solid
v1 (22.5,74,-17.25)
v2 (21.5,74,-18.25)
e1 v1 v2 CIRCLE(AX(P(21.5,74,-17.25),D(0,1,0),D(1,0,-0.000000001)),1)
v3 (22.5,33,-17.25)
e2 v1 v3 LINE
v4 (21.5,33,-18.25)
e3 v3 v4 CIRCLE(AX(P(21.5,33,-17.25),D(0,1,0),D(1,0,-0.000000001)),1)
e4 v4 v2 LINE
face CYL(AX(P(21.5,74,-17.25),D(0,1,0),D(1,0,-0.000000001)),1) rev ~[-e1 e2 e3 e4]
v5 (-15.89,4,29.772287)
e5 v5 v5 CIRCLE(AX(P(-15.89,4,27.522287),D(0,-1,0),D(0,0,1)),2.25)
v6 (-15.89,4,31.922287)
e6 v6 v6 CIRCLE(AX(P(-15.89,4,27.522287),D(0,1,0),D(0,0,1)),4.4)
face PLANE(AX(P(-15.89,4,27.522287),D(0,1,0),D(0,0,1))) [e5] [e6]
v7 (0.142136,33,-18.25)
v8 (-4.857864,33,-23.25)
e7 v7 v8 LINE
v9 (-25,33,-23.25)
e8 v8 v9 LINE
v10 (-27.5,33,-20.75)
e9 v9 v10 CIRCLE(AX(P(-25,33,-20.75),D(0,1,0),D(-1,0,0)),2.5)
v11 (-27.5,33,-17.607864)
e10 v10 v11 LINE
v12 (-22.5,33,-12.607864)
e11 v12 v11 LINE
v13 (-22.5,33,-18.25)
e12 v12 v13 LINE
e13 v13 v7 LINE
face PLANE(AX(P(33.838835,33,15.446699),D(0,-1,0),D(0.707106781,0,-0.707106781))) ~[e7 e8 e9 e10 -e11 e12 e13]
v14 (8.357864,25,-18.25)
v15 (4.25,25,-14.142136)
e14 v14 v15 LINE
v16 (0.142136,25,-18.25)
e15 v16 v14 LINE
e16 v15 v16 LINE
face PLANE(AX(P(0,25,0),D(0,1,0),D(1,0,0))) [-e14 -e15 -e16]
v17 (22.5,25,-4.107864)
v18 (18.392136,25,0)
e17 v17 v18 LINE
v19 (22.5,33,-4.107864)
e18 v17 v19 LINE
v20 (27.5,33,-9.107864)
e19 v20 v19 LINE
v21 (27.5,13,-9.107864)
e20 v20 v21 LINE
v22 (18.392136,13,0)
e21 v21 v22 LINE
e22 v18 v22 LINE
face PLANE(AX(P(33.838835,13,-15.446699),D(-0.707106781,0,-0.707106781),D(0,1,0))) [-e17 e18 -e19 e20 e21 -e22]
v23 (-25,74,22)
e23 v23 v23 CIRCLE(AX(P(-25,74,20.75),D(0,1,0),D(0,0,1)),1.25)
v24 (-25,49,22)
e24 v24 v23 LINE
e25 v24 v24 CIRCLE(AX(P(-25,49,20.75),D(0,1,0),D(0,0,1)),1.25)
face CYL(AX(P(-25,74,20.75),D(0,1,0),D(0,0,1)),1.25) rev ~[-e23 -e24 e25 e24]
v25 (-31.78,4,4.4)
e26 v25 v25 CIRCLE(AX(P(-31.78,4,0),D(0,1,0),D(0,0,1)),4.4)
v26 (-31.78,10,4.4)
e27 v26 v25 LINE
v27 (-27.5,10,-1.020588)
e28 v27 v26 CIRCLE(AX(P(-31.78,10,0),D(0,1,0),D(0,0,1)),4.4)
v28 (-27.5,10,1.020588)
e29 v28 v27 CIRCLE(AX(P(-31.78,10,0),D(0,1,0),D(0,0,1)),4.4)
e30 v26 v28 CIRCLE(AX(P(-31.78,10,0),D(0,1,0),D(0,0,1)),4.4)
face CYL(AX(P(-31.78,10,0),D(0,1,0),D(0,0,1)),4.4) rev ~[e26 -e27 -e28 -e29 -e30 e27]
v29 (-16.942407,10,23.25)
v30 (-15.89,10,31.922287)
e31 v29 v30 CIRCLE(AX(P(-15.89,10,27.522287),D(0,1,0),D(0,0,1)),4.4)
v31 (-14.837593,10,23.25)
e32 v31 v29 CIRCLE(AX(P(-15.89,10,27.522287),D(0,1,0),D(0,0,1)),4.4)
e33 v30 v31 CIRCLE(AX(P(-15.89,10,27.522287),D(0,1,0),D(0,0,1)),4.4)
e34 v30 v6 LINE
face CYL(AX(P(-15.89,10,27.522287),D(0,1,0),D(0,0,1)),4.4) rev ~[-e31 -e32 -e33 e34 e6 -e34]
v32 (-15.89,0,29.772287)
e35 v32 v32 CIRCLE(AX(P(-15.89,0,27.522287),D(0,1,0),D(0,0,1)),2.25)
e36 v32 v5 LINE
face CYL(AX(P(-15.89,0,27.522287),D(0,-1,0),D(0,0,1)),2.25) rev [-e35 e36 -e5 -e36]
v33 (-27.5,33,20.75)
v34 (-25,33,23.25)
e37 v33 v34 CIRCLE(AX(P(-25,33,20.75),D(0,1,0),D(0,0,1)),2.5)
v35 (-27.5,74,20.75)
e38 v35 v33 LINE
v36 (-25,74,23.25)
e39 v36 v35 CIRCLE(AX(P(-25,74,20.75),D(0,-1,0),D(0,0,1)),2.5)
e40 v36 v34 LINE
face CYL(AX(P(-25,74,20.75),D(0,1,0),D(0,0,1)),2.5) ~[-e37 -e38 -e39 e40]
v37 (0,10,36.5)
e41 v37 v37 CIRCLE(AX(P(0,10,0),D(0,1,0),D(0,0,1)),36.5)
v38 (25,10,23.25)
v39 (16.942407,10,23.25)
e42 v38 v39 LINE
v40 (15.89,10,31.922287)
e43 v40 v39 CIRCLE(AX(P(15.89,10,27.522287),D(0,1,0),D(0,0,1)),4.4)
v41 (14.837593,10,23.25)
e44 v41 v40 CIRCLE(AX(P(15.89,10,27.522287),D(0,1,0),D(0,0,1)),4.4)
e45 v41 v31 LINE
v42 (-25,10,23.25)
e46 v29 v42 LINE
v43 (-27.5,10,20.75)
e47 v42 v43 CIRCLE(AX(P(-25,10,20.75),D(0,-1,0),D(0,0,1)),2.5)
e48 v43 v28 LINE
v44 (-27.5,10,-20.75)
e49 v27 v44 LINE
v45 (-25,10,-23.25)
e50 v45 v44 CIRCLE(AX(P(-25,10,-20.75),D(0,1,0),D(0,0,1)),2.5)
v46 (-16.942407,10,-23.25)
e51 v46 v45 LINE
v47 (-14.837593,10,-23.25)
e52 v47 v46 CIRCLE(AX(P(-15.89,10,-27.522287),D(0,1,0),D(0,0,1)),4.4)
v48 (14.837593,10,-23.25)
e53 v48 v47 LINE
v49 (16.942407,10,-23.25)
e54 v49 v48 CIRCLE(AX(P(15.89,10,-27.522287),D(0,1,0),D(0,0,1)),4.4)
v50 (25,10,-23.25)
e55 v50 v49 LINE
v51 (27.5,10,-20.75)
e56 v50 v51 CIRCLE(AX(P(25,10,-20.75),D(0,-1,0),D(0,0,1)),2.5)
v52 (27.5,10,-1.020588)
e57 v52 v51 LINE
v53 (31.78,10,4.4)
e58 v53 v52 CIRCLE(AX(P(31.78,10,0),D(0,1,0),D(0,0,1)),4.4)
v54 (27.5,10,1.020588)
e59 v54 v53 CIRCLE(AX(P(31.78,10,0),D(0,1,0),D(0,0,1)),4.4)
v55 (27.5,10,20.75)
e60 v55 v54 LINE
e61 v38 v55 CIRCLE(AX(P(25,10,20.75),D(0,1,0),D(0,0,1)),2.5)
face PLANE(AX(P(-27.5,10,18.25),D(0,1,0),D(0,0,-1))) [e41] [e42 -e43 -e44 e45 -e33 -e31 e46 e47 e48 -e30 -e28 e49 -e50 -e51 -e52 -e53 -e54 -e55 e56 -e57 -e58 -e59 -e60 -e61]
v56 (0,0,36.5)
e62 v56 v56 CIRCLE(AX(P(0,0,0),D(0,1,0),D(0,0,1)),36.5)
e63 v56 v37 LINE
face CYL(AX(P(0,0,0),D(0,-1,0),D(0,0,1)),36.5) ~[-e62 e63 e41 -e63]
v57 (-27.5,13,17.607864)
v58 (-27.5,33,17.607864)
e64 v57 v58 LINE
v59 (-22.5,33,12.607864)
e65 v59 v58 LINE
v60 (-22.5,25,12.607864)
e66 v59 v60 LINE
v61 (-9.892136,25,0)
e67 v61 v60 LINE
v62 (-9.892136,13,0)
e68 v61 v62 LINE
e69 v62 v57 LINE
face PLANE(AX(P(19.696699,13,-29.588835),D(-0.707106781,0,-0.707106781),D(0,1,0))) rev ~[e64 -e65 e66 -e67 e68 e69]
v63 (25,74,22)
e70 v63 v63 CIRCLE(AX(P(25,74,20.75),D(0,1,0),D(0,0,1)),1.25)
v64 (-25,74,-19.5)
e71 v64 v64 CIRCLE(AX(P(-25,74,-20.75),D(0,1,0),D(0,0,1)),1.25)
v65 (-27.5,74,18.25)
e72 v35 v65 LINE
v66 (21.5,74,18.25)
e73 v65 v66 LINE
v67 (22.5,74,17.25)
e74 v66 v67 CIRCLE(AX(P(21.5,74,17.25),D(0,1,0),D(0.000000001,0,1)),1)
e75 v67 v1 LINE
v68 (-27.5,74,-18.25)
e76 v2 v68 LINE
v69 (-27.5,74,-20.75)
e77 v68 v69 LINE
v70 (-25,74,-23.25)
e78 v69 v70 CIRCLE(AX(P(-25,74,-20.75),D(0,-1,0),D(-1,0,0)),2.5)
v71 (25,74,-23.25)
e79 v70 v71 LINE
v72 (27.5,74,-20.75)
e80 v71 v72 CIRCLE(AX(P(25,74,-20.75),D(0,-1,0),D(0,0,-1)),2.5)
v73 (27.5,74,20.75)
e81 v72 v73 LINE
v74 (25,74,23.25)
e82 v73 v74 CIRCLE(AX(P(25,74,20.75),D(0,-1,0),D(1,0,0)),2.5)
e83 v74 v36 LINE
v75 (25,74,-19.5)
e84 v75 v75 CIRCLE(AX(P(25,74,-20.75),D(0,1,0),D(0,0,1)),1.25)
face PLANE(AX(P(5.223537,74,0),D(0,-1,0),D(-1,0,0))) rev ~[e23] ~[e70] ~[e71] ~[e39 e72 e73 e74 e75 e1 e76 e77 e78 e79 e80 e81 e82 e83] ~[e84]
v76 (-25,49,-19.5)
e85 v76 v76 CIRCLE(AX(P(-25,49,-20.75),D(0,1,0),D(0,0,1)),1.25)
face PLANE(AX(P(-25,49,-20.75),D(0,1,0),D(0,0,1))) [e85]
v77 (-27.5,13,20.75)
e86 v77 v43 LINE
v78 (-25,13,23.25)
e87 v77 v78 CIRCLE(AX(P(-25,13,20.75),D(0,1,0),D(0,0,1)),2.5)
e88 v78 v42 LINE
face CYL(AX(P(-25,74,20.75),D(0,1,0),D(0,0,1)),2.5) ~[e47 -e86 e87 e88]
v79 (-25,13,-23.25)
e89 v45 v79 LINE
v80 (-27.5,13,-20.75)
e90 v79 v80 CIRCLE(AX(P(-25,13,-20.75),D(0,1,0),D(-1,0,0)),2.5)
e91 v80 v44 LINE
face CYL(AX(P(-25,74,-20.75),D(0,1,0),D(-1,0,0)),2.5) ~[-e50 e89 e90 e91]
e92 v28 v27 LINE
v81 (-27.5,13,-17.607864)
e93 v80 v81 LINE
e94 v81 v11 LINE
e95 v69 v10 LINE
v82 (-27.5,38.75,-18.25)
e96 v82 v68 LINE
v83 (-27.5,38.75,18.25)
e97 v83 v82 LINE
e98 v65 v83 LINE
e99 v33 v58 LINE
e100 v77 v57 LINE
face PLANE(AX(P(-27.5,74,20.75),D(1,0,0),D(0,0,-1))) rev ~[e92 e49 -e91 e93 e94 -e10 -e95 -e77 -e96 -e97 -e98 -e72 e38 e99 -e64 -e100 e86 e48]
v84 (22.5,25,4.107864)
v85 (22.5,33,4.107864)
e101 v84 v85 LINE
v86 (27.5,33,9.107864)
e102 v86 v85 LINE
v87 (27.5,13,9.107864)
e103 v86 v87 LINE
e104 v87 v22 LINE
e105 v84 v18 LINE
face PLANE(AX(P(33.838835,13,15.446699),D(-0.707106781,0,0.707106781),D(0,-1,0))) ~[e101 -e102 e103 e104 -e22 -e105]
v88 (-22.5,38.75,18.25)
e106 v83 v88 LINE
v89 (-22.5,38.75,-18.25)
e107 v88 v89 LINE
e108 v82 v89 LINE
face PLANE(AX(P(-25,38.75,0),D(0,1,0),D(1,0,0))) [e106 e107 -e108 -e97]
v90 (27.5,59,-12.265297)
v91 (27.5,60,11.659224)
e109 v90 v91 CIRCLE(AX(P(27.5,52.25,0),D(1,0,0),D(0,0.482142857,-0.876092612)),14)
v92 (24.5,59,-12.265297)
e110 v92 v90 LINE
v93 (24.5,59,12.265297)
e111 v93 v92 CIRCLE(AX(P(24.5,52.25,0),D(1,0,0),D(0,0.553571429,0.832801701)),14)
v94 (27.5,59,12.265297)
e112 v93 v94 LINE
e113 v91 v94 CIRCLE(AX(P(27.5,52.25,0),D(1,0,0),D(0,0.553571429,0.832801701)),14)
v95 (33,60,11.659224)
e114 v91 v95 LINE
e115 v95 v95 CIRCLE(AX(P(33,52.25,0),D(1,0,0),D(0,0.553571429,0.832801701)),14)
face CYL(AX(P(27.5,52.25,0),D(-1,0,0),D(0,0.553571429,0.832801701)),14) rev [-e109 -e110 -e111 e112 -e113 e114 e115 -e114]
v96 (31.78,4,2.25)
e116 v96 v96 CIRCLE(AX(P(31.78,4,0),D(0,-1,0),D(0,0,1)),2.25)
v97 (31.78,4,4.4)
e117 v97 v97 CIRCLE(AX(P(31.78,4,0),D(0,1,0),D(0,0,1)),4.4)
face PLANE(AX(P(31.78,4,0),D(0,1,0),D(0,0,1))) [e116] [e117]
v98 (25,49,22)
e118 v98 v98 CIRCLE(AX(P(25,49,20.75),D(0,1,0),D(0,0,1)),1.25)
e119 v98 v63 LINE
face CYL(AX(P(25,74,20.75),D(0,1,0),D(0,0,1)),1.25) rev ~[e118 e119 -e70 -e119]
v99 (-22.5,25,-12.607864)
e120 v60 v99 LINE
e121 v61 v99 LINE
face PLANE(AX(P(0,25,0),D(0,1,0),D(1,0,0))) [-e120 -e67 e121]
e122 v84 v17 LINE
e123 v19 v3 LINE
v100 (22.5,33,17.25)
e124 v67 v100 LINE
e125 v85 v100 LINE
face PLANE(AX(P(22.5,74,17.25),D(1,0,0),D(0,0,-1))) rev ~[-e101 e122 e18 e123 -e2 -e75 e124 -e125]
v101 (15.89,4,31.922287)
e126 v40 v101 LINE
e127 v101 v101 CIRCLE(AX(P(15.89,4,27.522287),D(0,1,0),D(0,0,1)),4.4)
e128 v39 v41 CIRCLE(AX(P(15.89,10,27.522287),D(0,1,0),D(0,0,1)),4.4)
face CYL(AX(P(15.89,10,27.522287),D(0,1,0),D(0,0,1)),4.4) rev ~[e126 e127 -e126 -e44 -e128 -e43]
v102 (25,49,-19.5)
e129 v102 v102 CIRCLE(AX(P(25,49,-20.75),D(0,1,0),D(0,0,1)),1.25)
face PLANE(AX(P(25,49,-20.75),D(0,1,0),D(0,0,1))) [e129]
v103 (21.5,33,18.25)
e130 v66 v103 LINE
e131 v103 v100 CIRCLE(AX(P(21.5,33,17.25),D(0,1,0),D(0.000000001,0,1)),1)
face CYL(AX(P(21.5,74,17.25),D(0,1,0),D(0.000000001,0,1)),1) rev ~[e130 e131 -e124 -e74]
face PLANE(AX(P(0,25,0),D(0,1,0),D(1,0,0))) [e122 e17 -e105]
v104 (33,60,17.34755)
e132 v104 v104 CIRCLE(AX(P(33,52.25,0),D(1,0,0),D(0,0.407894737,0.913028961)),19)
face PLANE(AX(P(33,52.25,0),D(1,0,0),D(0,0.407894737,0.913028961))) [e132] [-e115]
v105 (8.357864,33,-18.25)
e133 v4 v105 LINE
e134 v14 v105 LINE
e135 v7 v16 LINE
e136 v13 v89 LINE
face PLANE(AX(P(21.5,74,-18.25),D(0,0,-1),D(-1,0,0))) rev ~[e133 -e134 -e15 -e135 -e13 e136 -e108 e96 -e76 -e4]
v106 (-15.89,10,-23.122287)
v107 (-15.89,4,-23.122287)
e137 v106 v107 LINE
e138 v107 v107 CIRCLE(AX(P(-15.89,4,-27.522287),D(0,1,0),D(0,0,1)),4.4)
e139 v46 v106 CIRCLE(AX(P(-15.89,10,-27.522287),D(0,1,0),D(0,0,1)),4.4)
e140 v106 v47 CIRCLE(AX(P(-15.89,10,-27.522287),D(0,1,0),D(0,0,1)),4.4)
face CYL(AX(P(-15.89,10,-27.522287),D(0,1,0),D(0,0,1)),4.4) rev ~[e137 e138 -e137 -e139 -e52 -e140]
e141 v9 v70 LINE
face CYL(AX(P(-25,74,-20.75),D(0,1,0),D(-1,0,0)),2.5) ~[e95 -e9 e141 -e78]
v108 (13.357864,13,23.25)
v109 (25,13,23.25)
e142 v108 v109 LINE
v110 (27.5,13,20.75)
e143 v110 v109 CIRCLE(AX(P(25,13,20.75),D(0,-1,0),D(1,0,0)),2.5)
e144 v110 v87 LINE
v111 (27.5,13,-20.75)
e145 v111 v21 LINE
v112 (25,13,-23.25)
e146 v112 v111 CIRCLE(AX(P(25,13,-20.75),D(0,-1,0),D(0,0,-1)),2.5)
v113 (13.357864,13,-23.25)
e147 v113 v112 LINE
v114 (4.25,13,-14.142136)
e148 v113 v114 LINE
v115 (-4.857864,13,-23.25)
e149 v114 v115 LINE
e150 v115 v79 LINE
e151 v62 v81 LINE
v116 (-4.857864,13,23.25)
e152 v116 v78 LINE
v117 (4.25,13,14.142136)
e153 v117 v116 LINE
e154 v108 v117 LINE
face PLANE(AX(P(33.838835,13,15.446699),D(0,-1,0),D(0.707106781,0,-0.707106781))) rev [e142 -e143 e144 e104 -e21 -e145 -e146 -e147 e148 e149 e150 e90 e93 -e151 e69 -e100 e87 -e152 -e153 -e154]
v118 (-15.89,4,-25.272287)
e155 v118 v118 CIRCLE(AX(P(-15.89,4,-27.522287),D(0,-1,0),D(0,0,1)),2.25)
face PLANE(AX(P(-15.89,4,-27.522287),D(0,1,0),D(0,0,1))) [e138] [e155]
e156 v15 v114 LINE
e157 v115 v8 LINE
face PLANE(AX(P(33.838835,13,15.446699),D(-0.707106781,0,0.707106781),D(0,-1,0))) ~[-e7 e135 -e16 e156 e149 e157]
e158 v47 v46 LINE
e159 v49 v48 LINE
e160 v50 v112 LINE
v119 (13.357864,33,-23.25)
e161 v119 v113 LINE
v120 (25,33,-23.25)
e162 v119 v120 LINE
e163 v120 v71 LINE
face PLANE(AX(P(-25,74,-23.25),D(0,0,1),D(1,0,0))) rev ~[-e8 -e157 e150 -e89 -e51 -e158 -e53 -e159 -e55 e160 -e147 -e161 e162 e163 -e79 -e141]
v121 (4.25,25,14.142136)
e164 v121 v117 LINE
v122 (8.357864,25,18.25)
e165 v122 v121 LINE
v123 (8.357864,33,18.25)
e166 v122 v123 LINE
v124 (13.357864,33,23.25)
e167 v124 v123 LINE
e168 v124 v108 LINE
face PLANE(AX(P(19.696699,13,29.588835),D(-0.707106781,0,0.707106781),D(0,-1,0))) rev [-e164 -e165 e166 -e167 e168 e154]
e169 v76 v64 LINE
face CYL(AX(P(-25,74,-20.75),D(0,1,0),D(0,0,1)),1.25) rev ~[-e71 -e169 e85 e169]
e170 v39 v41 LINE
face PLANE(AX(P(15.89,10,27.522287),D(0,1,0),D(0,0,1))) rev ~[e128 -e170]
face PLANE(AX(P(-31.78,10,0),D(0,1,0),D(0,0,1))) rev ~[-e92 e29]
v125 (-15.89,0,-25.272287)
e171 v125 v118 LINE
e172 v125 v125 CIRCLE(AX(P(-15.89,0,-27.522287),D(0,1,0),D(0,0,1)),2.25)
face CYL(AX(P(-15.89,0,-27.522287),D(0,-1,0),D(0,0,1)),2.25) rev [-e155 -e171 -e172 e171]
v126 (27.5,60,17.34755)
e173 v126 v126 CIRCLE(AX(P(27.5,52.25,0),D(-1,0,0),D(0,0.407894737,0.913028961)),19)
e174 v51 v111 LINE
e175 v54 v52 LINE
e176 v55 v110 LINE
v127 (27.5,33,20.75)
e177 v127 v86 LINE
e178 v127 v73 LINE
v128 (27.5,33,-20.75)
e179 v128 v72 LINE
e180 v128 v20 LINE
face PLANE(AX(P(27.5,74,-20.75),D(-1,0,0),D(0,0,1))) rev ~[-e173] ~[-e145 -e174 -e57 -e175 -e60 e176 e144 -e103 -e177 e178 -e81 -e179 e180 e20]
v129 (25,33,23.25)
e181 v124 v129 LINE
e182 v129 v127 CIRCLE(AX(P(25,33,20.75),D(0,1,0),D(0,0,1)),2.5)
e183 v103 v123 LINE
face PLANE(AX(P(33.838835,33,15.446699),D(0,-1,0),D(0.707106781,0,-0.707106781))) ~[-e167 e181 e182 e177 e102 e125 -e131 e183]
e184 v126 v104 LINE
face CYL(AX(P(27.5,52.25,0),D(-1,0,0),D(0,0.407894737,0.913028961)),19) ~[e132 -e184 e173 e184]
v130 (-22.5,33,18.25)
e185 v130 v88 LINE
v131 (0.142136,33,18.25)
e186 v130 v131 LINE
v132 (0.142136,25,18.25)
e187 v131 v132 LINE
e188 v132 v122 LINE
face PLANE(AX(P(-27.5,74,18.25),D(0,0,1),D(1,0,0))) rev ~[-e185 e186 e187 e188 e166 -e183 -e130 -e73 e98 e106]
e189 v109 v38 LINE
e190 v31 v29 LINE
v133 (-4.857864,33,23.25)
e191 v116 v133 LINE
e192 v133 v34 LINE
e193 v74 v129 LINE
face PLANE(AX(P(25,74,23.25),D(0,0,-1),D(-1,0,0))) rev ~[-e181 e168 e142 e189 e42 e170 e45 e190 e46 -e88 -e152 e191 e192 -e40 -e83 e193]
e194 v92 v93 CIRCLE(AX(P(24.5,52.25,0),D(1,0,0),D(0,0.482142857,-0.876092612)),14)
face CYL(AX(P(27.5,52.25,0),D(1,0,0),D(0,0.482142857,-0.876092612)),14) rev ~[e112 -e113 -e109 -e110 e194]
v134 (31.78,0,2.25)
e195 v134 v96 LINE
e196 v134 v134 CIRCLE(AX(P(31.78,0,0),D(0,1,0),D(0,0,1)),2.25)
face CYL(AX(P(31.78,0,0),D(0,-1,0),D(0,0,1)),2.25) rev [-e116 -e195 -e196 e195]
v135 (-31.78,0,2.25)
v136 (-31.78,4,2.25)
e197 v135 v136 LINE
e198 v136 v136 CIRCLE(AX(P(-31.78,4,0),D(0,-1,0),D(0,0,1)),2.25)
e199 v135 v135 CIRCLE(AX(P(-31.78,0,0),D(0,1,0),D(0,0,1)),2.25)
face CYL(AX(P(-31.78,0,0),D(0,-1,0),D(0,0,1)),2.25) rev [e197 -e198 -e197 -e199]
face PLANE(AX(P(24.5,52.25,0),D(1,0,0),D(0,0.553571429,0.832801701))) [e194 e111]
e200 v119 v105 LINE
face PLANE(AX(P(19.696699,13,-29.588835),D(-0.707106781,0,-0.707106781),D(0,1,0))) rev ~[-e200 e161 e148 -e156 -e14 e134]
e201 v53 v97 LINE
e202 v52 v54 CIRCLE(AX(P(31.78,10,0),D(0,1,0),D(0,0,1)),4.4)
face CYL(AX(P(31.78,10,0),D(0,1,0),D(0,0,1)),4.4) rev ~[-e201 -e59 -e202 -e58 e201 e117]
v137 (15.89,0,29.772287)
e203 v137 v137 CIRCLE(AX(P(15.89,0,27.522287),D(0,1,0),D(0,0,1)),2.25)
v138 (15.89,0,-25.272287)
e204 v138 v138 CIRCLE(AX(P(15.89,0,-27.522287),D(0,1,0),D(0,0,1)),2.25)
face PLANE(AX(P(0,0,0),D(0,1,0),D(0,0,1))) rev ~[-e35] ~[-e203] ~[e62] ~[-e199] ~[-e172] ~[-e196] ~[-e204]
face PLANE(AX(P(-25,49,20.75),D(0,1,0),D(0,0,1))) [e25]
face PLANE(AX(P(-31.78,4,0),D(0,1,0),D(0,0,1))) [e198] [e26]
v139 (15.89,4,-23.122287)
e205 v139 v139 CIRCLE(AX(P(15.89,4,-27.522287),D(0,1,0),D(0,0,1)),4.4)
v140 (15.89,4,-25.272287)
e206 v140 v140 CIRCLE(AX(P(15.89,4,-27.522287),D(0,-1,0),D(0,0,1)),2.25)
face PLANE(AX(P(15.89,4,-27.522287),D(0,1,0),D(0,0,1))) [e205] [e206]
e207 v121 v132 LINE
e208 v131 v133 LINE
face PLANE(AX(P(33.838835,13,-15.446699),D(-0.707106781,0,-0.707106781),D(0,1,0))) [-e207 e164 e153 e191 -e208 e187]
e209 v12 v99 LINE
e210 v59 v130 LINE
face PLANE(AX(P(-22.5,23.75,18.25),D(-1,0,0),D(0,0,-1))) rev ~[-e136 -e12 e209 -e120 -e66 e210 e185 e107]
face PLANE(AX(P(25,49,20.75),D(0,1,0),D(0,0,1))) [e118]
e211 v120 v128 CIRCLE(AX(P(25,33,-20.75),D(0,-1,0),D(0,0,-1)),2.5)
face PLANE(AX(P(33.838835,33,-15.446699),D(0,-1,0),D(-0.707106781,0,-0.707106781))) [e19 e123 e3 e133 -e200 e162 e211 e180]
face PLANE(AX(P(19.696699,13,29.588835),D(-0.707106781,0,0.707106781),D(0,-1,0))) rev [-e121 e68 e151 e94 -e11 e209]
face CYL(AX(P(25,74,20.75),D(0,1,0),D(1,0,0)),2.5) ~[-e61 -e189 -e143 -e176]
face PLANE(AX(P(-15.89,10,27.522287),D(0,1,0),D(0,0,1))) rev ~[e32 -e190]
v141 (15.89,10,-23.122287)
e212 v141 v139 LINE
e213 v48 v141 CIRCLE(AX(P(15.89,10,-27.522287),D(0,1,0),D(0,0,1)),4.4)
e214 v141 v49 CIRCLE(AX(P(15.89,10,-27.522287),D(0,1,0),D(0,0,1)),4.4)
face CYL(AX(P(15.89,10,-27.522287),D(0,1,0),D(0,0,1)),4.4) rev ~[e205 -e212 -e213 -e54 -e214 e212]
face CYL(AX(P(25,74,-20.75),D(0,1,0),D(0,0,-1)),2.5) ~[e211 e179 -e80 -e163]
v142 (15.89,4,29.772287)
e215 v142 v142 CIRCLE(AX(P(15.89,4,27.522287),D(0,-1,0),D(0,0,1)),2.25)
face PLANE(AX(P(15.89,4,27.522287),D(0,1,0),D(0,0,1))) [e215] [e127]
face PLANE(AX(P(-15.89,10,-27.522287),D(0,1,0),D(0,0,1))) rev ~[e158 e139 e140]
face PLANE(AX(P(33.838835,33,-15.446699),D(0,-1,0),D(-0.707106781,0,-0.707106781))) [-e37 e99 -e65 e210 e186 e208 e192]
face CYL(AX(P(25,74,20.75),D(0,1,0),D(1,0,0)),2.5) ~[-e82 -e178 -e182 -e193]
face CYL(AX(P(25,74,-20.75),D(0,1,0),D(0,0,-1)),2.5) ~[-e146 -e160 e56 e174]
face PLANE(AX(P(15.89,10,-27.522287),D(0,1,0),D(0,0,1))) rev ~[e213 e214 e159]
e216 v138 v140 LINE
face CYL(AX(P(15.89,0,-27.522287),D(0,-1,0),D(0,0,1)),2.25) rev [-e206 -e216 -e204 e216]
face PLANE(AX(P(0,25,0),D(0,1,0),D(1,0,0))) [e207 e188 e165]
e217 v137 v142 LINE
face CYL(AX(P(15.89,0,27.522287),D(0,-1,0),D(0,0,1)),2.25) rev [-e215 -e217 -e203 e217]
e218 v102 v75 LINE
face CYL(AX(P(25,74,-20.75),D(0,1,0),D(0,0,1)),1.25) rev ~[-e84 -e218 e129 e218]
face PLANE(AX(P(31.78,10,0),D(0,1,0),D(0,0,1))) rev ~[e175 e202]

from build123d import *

# Parameters (mm, degrees)
SKETCH1_W             = 45
SKETCH1_H             = 36.5
BOSS_EXTRUDE1_DEPTH   = 10
SKETCH1_R             = 36.5
SKETCH1_R_2           = 2.25
SKETCH1_W_2           = 55
SKETCH1_H_2           = 46.5
BOSS_EXTRUDE1_2_DEPTH = 10
SKETCH1_2_W           = 55
SKETCH1_2_H           = 46.5
SKETCH1_2_W_2         = 45
SKETCH1_2_H_2         = 36.5
BOSS_EXTRUDE2_DEPTH   = 60
FILLET2_R             = 1
CUT_EXTRUDE1_START    = -5
SKETCH2_W             = 36.5
SKETCH2_H             = 50
CUT_EXTRUDE1_DEPTH    = 6
BOSS_EXTRUDE3_START   = -5
SKETCH3_W             = 46.5
SKETCH3_H             = 13.75
BOSS_EXTRUDE3_DEPTH   = 5
FILLET5_R             = 2.5
SKETCH6_R             = 4.4
CUT_EXTRUDE4_DEPTH    = 6
SKETCH7_R             = 19
SKETCH7_R_2           = 14
BOSS_EXTRUDE4_DEPTH   = 5.5
SKETCH7_2_R           = 14
CUT_EXTRUDE5_DEPTH    = 3
SKETCH8_R             = 1.25
CUT_EXTRUDE6_DEPTH    = 11
SKETCH9_R             = 1.25
CUT_EXTRUDE7_DEPTH    = 1
SKETCH11_W            = 45
SKETCH11_H            = 36.5
BOSS_EXTRUDE5_DEPTH   = 15
SKETCH12_W            = 5
SKETCH12_H            = 36.5
BOSS_EXTRUDE6_DEPTH   = 15
BOSS_EXTRUDE7_START   = 15
SKETCH13_R            = 1.25
BOSS_EXTRUDE7_DEPTH   = 15
CUT_EXTRUDE8_DEPTH    = 3
SKETCH15_W            = 20
SKETCH15_H            = 20
CUT_EXTRUDE9_DEPTH    = 114.850371766


with BuildPart() as part:
    # Sketch1 → Boss-Extrude1 (new body)
    with BuildSketch(Plane(origin=(0, 0, 0), x_dir=(1, 0, 0), z_dir=(0, 1, 0))):
        Rectangle(SKETCH1_W, SKETCH1_H)
    extrude(amount=BOSS_EXTRUDE1_DEPTH)



with BuildPart() as body_2:
    # Sketch1 → Boss-Extrude1 2 (new body)
    with BuildSketch(Plane(origin=(0, 0, 0), x_dir=(1, 0, 0), z_dir=(0, 1, 0))):
        with Locations(Location((0, 0, 0), (0, 0, 270))):
            Circle(SKETCH1_R)
        with Locations(Location((-15.89, -27.522287332, 0), (0, 0, 270))):
            Circle(SKETCH1_R_2, mode=Mode.SUBTRACT)
        with Locations(Location((15.89, -27.522287332, 0), (0, 0, 270))):
            Circle(SKETCH1_R_2, mode=Mode.SUBTRACT)
        with Locations(Location((-31.78, 0, 0), (0, 0, 270))):
            Circle(SKETCH1_R_2, mode=Mode.SUBTRACT)
        with Locations(Location((-15.89, 27.522287332, 0), (0, 0, 270))):
            Circle(SKETCH1_R_2, mode=Mode.SUBTRACT)
        Rectangle(SKETCH1_W_2, SKETCH1_H_2, mode=Mode.SUBTRACT)
        with Locations(Location((31.78, 0, 0), (0, 0, 270))):
            Circle(SKETCH1_R_2, mode=Mode.SUBTRACT)
        with Locations(Location((15.89, 27.522287332, 0), (0, 0, 270))):
            Circle(SKETCH1_R_2, mode=Mode.SUBTRACT)
    extrude(amount=BOSS_EXTRUDE1_2_DEPTH)

    # Sketch1<2> → Boss-Extrude2 (add)
    with BuildSketch(Plane(origin=(0, 0, 0), x_dir=(1, 0, 0), z_dir=(0, 1, 0))):
        Rectangle(SKETCH1_2_W, SKETCH1_2_H)
        Rectangle(SKETCH1_2_W_2, SKETCH1_2_H_2, mode=Mode.SUBTRACT)
    extrude(amount=BOSS_EXTRUDE2_DEPTH)

    # Fillet2
    fillet2_edges = [body_2.edges().sort_by_distance(p)[0] for p in [
        (-22.5, 30, -18.25),
        (22.5, 30, -18.25),
        (22.5, 30, 18.25),
        (-22.5, 30, 18.25),
    ]]
    fillet(fillet2_edges, radius=FILLET2_R)

    # Sketch2 → Cut-Extrude1 (cut)
    with BuildSketch(Plane(origin=(-22.5, 0, 0), x_dir=(0, 0, -1), z_dir=(1, 0, 0)).offset(CUT_EXTRUDE1_START)):
        with Locations((0, 35)):
            Rectangle(SKETCH2_W, SKETCH2_H)
    extrude(amount=CUT_EXTRUDE1_DEPTH, mode=Mode.SUBTRACT)

    # Sketch3 → Boss-Extrude3 (add)
    with BuildSketch(Plane.ZY.offset(27.5).offset(BOSS_EXTRUDE3_START)):
        with Locations((0, 16.875)):
            Rectangle(SKETCH3_W, SKETCH3_H)
    extrude(amount=BOSS_EXTRUDE3_DEPTH)

    # Fillet5
    fillet5_edges = [body_2.edges().sort_by_distance(p)[0] for p in [
        (27.5, 35, -23.25),
        (-27.5, 35, -23.25),
        (-27.5, 35, 23.25),
        (27.5, 35, 23.25),
    ]]
    fillet(fillet5_edges, radius=FILLET5_R)

    # Sketch6 → Cut-Extrude4 (cut)
    with BuildSketch(Plane(origin=(0, 10, 0), x_dir=(1, 0, 0), z_dir=(0, 1, 0))):
        with Locations(Location((-15.89, 27.522287332, 0), (0, 0, 270))):
            Circle(SKETCH6_R)
        with Locations(Location((15.89, 27.522287332, 0), (0, 0, 270))):
            Circle(SKETCH6_R)
        with Locations(Location((31.78, 0, 0), (0, 0, 270))):
            Circle(SKETCH6_R)
        with Locations(Location((15.89, -27.522287332, 0), (0, 0, 270))):
            Circle(SKETCH6_R)
        with Locations(Location((-15.89, -27.522287332, 0), (0, 0, 270))):
            Circle(SKETCH6_R)
        with Locations(Location((-31.78, 0, 0), (0, 0, 270))):
            Circle(SKETCH6_R)
    extrude(amount=-CUT_EXTRUDE4_DEPTH, mode=Mode.SUBTRACT)

    # Sketch7 → Boss-Extrude4 (add)
    with BuildSketch(Plane(origin=(27.5, 0, 0), x_dir=(0, 0, -1), z_dir=(1, 0, 0))):
        with Locations(Location((0, 52.25, 0), (0, 0, 155.927346102))):
            Circle(SKETCH7_R)
        with Locations(Location((0, 52.25, 0), (0, 0, 146.387625402))):
            Circle(SKETCH7_R_2, mode=Mode.SUBTRACT)
    extrude(amount=BOSS_EXTRUDE4_DEPTH)

    # Sketch7<2> → Cut-Extrude5 (cut)
    with BuildSketch(Plane(origin=(27.5, 0, 0), x_dir=(0, 0, -1), z_dir=(1, 0, 0))):
        with Locations(Location((0, 52.25, 0), (0, 0, 146.387625402))):
            Circle(SKETCH7_2_R)
    extrude(amount=-CUT_EXTRUDE5_DEPTH, mode=Mode.SUBTRACT)

    # Sketch8 → Cut-Extrude6 (cut)
    with BuildSketch(Plane(origin=(0, 60, 0), x_dir=(1, 0, 0), z_dir=(0, 1, 0))):
        with Locations(Location((-25, 20.75, 0), (0, 0, 270))):
            Circle(SKETCH8_R)
        with Locations(Location((25, 20.75, 0), (0, 0, 270))):
            Circle(SKETCH8_R)
        with Locations(Location((25, -20.75, 0), (0, 0, 270))):
            Circle(SKETCH8_R)
        with Locations(Location((-25, -20.75, 0), (0, 0, 270))):
            Circle(SKETCH8_R)
    extrude(amount=-CUT_EXTRUDE6_DEPTH, mode=Mode.SUBTRACT)

    # Sketch9 → Cut-Extrude7 (cut)
    with BuildSketch(Plane(origin=(0, 60, 0), x_dir=(1, 0, 0), z_dir=(0, 1, 0))):
        with BuildLine():
            Line((21.5, -18.25), (-27.5, -18.25))
            Line((-27.5, -18.25), (-27.5, -20.75))
            ThreePointArc((-27.5, -20.75), (-26.767766953, -22.517766953), (-25, -23.25))
            Line((-25, -23.25), (25, -23.25))
            ThreePointArc((25, -23.25), (26.767766953, -22.517766953), (27.5, -20.75))
            Line((27.5, -20.75), (27.5, -17.347550259))
            Line((27.5, -17.347550259), (27.5, -11.659223816))
            Line((27.5, -11.659223816), (24.5, -11.659223816))
            Line((24.5, -11.659223816), (24.5, 11.659223816))
            Line((24.5, 11.659223816), (27.5, 11.659223816))
            Line((27.5, 11.659223816), (27.5, 17.347550259))
            Line((27.5, 17.347550259), (27.5, 20.75))
            ThreePointArc((27.5, 20.75), (26.767766953, 22.517766953), (25, 23.25))
            Line((25, 23.25), (-25, 23.25))
            ThreePointArc((-25, 23.25), (-26.767766953, 22.517766953), (-27.5, 20.75))
            Line((-27.5, 20.75), (-27.5, 18.25))
            Line((-27.5, 18.25), (21.5, 18.25))
            ThreePointArc((21.5, 18.25), (22.207106781, 17.957106781), (22.5, 17.25))
            Line((22.5, 17.25), (22.5, -17.25))
            ThreePointArc((22.5, -17.25), (22.207106781, -17.957106781), (21.5, -18.25))
        make_face()
        with Locations(Location((-25, -20.75, 0), (0, 0, 270))):
            Circle(SKETCH9_R, mode=Mode.SUBTRACT)
        with Locations(Location((25, -20.75, 0), (0, 0, 270))):
            Circle(SKETCH9_R, mode=Mode.SUBTRACT)
        with Locations(Location((25, 20.75, 0), (0, 0, 270))):
            Circle(SKETCH9_R, mode=Mode.SUBTRACT)
        with Locations(Location((-25, 20.75, 0), (0, 0, 270))):
            Circle(SKETCH9_R, mode=Mode.SUBTRACT)
    extrude(amount=-CUT_EXTRUDE7_DEPTH, mode=Mode.SUBTRACT)


with BuildPart() as part_1:
    add(part.part)

    add(body_2.part)  # Boss-Extrude5 merges body 2
    # Sketch11 → Boss-Extrude5 (add)
    with BuildSketch(Plane(origin=(0, 10, 0), x_dir=(1, 0, 0), z_dir=(0, 1, 0))):
        Rectangle(SKETCH11_W, SKETCH11_H)
    extrude(amount=BOSS_EXTRUDE5_DEPTH)

    # Sketch12 → Boss-Extrude6 (add)
    with BuildSketch(Plane(origin=(0, 23.75, 0), x_dir=(1, 0, 0), z_dir=(0, 1, 0))):
        with Locations((-25, 0)):
            Rectangle(SKETCH12_W, SKETCH12_H)
    extrude(amount=BOSS_EXTRUDE6_DEPTH)

    # Sketch13 → Boss-Extrude7 (add)
    with BuildSketch(Plane(origin=(0, 59, 0), x_dir=(1, 0, 0), z_dir=(0, 1, 0)).offset(BOSS_EXTRUDE7_START)):
        with BuildLine():
            Line((27.5, 12.265296572), (27.5, -12.265296572))
            Line((27.5, -12.265296572), (27.5, -17.760560239))
            Line((27.5, -17.760560239), (27.5, -20.75))
            ThreePointArc((27.5, -20.75), (26.767766953, -22.517766953), (25, -23.25))
            Line((25, -23.25), (-25, -23.25))
            ThreePointArc((-25, -23.25), (-26.767766953, -22.517766953), (-27.5, -20.75))
            Line((-27.5, -20.75), (-27.5, -18.25))
            Line((-27.5, -18.25), (21.5, -18.25))
            ThreePointArc((21.5, -18.25), (22.207106781, -17.957106781), (22.5, -17.25))
            Line((22.5, -17.25), (22.5, 17.25))
            ThreePointArc((22.5, 17.25), (22.207106781, 17.957106781), (21.5, 18.25))
            Line((21.5, 18.25), (-27.5, 18.25))
            Line((-27.5, 18.25), (-27.5, 20.75))
            ThreePointArc((-27.5, 20.75), (-26.767766953, 22.517766953), (-25, 23.25))
            Line((-25, 23.25), (25, 23.25))
            ThreePointArc((25, 23.25), (26.767766953, 22.517766953), (27.5, 20.75))
            Line((27.5, 20.75), (27.5, 17.760560239))
            Line((27.5, 17.760560239), (27.5, 12.265296572))
        make_face()
        with Locations(Location((-25, -20.75, 0), (0, 0, 270))):
            Circle(SKETCH13_R, mode=Mode.SUBTRACT)
        with Locations(Location((25, -20.75, 0), (0, 0, 270))):
            Circle(SKETCH13_R, mode=Mode.SUBTRACT)
        with Locations(Location((25, 20.75, 0), (0, 0, 270))):
            Circle(SKETCH13_R, mode=Mode.SUBTRACT)
        with Locations(Location((-25, 20.75, 0), (0, 0, 270))):
            Circle(SKETCH13_R, mode=Mode.SUBTRACT)
    extrude(amount=-BOSS_EXTRUDE7_DEPTH)

    # Sketch14 → Cut-Extrude8 (cut)
    with BuildSketch(Plane(origin=(27.5, 0, 0), x_dir=(0, 0, -1), z_dir=(1, 0, 0))):
        with BuildLine():
            Line((-12.265296572, 59), (12.265296572, 59))
            ThreePointArc((12.265296572, 59), (0, 66.25), (-12.265296572, 59))
        make_face()
    extrude(amount=-CUT_EXTRUDE8_DEPTH, mode=Mode.SUBTRACT)

    # Sketch15 → Cut-Extrude9 (cut, through all)
    with BuildSketch(Plane(origin=(26.767766953, 74, -22.517766953), x_dir=(-0.7071067811865468, 0, -0.7071067811865483), z_dir=(0.7071067811865483, 0, -0.7071067811865468))):
        with Locations((0, -51)):
            Rectangle(SKETCH15_W, SKETCH15_H)
    cut_extrude9 = extrude(amount=-CUT_EXTRUDE9_DEPTH, mode=Mode.SUBTRACT)

    # Mirror1: Cut-Extrude9 across plane
    add(cut_extrude9.mirror(Plane.XY), mode=Mode.SUBTRACT)


solid = part_1.part
